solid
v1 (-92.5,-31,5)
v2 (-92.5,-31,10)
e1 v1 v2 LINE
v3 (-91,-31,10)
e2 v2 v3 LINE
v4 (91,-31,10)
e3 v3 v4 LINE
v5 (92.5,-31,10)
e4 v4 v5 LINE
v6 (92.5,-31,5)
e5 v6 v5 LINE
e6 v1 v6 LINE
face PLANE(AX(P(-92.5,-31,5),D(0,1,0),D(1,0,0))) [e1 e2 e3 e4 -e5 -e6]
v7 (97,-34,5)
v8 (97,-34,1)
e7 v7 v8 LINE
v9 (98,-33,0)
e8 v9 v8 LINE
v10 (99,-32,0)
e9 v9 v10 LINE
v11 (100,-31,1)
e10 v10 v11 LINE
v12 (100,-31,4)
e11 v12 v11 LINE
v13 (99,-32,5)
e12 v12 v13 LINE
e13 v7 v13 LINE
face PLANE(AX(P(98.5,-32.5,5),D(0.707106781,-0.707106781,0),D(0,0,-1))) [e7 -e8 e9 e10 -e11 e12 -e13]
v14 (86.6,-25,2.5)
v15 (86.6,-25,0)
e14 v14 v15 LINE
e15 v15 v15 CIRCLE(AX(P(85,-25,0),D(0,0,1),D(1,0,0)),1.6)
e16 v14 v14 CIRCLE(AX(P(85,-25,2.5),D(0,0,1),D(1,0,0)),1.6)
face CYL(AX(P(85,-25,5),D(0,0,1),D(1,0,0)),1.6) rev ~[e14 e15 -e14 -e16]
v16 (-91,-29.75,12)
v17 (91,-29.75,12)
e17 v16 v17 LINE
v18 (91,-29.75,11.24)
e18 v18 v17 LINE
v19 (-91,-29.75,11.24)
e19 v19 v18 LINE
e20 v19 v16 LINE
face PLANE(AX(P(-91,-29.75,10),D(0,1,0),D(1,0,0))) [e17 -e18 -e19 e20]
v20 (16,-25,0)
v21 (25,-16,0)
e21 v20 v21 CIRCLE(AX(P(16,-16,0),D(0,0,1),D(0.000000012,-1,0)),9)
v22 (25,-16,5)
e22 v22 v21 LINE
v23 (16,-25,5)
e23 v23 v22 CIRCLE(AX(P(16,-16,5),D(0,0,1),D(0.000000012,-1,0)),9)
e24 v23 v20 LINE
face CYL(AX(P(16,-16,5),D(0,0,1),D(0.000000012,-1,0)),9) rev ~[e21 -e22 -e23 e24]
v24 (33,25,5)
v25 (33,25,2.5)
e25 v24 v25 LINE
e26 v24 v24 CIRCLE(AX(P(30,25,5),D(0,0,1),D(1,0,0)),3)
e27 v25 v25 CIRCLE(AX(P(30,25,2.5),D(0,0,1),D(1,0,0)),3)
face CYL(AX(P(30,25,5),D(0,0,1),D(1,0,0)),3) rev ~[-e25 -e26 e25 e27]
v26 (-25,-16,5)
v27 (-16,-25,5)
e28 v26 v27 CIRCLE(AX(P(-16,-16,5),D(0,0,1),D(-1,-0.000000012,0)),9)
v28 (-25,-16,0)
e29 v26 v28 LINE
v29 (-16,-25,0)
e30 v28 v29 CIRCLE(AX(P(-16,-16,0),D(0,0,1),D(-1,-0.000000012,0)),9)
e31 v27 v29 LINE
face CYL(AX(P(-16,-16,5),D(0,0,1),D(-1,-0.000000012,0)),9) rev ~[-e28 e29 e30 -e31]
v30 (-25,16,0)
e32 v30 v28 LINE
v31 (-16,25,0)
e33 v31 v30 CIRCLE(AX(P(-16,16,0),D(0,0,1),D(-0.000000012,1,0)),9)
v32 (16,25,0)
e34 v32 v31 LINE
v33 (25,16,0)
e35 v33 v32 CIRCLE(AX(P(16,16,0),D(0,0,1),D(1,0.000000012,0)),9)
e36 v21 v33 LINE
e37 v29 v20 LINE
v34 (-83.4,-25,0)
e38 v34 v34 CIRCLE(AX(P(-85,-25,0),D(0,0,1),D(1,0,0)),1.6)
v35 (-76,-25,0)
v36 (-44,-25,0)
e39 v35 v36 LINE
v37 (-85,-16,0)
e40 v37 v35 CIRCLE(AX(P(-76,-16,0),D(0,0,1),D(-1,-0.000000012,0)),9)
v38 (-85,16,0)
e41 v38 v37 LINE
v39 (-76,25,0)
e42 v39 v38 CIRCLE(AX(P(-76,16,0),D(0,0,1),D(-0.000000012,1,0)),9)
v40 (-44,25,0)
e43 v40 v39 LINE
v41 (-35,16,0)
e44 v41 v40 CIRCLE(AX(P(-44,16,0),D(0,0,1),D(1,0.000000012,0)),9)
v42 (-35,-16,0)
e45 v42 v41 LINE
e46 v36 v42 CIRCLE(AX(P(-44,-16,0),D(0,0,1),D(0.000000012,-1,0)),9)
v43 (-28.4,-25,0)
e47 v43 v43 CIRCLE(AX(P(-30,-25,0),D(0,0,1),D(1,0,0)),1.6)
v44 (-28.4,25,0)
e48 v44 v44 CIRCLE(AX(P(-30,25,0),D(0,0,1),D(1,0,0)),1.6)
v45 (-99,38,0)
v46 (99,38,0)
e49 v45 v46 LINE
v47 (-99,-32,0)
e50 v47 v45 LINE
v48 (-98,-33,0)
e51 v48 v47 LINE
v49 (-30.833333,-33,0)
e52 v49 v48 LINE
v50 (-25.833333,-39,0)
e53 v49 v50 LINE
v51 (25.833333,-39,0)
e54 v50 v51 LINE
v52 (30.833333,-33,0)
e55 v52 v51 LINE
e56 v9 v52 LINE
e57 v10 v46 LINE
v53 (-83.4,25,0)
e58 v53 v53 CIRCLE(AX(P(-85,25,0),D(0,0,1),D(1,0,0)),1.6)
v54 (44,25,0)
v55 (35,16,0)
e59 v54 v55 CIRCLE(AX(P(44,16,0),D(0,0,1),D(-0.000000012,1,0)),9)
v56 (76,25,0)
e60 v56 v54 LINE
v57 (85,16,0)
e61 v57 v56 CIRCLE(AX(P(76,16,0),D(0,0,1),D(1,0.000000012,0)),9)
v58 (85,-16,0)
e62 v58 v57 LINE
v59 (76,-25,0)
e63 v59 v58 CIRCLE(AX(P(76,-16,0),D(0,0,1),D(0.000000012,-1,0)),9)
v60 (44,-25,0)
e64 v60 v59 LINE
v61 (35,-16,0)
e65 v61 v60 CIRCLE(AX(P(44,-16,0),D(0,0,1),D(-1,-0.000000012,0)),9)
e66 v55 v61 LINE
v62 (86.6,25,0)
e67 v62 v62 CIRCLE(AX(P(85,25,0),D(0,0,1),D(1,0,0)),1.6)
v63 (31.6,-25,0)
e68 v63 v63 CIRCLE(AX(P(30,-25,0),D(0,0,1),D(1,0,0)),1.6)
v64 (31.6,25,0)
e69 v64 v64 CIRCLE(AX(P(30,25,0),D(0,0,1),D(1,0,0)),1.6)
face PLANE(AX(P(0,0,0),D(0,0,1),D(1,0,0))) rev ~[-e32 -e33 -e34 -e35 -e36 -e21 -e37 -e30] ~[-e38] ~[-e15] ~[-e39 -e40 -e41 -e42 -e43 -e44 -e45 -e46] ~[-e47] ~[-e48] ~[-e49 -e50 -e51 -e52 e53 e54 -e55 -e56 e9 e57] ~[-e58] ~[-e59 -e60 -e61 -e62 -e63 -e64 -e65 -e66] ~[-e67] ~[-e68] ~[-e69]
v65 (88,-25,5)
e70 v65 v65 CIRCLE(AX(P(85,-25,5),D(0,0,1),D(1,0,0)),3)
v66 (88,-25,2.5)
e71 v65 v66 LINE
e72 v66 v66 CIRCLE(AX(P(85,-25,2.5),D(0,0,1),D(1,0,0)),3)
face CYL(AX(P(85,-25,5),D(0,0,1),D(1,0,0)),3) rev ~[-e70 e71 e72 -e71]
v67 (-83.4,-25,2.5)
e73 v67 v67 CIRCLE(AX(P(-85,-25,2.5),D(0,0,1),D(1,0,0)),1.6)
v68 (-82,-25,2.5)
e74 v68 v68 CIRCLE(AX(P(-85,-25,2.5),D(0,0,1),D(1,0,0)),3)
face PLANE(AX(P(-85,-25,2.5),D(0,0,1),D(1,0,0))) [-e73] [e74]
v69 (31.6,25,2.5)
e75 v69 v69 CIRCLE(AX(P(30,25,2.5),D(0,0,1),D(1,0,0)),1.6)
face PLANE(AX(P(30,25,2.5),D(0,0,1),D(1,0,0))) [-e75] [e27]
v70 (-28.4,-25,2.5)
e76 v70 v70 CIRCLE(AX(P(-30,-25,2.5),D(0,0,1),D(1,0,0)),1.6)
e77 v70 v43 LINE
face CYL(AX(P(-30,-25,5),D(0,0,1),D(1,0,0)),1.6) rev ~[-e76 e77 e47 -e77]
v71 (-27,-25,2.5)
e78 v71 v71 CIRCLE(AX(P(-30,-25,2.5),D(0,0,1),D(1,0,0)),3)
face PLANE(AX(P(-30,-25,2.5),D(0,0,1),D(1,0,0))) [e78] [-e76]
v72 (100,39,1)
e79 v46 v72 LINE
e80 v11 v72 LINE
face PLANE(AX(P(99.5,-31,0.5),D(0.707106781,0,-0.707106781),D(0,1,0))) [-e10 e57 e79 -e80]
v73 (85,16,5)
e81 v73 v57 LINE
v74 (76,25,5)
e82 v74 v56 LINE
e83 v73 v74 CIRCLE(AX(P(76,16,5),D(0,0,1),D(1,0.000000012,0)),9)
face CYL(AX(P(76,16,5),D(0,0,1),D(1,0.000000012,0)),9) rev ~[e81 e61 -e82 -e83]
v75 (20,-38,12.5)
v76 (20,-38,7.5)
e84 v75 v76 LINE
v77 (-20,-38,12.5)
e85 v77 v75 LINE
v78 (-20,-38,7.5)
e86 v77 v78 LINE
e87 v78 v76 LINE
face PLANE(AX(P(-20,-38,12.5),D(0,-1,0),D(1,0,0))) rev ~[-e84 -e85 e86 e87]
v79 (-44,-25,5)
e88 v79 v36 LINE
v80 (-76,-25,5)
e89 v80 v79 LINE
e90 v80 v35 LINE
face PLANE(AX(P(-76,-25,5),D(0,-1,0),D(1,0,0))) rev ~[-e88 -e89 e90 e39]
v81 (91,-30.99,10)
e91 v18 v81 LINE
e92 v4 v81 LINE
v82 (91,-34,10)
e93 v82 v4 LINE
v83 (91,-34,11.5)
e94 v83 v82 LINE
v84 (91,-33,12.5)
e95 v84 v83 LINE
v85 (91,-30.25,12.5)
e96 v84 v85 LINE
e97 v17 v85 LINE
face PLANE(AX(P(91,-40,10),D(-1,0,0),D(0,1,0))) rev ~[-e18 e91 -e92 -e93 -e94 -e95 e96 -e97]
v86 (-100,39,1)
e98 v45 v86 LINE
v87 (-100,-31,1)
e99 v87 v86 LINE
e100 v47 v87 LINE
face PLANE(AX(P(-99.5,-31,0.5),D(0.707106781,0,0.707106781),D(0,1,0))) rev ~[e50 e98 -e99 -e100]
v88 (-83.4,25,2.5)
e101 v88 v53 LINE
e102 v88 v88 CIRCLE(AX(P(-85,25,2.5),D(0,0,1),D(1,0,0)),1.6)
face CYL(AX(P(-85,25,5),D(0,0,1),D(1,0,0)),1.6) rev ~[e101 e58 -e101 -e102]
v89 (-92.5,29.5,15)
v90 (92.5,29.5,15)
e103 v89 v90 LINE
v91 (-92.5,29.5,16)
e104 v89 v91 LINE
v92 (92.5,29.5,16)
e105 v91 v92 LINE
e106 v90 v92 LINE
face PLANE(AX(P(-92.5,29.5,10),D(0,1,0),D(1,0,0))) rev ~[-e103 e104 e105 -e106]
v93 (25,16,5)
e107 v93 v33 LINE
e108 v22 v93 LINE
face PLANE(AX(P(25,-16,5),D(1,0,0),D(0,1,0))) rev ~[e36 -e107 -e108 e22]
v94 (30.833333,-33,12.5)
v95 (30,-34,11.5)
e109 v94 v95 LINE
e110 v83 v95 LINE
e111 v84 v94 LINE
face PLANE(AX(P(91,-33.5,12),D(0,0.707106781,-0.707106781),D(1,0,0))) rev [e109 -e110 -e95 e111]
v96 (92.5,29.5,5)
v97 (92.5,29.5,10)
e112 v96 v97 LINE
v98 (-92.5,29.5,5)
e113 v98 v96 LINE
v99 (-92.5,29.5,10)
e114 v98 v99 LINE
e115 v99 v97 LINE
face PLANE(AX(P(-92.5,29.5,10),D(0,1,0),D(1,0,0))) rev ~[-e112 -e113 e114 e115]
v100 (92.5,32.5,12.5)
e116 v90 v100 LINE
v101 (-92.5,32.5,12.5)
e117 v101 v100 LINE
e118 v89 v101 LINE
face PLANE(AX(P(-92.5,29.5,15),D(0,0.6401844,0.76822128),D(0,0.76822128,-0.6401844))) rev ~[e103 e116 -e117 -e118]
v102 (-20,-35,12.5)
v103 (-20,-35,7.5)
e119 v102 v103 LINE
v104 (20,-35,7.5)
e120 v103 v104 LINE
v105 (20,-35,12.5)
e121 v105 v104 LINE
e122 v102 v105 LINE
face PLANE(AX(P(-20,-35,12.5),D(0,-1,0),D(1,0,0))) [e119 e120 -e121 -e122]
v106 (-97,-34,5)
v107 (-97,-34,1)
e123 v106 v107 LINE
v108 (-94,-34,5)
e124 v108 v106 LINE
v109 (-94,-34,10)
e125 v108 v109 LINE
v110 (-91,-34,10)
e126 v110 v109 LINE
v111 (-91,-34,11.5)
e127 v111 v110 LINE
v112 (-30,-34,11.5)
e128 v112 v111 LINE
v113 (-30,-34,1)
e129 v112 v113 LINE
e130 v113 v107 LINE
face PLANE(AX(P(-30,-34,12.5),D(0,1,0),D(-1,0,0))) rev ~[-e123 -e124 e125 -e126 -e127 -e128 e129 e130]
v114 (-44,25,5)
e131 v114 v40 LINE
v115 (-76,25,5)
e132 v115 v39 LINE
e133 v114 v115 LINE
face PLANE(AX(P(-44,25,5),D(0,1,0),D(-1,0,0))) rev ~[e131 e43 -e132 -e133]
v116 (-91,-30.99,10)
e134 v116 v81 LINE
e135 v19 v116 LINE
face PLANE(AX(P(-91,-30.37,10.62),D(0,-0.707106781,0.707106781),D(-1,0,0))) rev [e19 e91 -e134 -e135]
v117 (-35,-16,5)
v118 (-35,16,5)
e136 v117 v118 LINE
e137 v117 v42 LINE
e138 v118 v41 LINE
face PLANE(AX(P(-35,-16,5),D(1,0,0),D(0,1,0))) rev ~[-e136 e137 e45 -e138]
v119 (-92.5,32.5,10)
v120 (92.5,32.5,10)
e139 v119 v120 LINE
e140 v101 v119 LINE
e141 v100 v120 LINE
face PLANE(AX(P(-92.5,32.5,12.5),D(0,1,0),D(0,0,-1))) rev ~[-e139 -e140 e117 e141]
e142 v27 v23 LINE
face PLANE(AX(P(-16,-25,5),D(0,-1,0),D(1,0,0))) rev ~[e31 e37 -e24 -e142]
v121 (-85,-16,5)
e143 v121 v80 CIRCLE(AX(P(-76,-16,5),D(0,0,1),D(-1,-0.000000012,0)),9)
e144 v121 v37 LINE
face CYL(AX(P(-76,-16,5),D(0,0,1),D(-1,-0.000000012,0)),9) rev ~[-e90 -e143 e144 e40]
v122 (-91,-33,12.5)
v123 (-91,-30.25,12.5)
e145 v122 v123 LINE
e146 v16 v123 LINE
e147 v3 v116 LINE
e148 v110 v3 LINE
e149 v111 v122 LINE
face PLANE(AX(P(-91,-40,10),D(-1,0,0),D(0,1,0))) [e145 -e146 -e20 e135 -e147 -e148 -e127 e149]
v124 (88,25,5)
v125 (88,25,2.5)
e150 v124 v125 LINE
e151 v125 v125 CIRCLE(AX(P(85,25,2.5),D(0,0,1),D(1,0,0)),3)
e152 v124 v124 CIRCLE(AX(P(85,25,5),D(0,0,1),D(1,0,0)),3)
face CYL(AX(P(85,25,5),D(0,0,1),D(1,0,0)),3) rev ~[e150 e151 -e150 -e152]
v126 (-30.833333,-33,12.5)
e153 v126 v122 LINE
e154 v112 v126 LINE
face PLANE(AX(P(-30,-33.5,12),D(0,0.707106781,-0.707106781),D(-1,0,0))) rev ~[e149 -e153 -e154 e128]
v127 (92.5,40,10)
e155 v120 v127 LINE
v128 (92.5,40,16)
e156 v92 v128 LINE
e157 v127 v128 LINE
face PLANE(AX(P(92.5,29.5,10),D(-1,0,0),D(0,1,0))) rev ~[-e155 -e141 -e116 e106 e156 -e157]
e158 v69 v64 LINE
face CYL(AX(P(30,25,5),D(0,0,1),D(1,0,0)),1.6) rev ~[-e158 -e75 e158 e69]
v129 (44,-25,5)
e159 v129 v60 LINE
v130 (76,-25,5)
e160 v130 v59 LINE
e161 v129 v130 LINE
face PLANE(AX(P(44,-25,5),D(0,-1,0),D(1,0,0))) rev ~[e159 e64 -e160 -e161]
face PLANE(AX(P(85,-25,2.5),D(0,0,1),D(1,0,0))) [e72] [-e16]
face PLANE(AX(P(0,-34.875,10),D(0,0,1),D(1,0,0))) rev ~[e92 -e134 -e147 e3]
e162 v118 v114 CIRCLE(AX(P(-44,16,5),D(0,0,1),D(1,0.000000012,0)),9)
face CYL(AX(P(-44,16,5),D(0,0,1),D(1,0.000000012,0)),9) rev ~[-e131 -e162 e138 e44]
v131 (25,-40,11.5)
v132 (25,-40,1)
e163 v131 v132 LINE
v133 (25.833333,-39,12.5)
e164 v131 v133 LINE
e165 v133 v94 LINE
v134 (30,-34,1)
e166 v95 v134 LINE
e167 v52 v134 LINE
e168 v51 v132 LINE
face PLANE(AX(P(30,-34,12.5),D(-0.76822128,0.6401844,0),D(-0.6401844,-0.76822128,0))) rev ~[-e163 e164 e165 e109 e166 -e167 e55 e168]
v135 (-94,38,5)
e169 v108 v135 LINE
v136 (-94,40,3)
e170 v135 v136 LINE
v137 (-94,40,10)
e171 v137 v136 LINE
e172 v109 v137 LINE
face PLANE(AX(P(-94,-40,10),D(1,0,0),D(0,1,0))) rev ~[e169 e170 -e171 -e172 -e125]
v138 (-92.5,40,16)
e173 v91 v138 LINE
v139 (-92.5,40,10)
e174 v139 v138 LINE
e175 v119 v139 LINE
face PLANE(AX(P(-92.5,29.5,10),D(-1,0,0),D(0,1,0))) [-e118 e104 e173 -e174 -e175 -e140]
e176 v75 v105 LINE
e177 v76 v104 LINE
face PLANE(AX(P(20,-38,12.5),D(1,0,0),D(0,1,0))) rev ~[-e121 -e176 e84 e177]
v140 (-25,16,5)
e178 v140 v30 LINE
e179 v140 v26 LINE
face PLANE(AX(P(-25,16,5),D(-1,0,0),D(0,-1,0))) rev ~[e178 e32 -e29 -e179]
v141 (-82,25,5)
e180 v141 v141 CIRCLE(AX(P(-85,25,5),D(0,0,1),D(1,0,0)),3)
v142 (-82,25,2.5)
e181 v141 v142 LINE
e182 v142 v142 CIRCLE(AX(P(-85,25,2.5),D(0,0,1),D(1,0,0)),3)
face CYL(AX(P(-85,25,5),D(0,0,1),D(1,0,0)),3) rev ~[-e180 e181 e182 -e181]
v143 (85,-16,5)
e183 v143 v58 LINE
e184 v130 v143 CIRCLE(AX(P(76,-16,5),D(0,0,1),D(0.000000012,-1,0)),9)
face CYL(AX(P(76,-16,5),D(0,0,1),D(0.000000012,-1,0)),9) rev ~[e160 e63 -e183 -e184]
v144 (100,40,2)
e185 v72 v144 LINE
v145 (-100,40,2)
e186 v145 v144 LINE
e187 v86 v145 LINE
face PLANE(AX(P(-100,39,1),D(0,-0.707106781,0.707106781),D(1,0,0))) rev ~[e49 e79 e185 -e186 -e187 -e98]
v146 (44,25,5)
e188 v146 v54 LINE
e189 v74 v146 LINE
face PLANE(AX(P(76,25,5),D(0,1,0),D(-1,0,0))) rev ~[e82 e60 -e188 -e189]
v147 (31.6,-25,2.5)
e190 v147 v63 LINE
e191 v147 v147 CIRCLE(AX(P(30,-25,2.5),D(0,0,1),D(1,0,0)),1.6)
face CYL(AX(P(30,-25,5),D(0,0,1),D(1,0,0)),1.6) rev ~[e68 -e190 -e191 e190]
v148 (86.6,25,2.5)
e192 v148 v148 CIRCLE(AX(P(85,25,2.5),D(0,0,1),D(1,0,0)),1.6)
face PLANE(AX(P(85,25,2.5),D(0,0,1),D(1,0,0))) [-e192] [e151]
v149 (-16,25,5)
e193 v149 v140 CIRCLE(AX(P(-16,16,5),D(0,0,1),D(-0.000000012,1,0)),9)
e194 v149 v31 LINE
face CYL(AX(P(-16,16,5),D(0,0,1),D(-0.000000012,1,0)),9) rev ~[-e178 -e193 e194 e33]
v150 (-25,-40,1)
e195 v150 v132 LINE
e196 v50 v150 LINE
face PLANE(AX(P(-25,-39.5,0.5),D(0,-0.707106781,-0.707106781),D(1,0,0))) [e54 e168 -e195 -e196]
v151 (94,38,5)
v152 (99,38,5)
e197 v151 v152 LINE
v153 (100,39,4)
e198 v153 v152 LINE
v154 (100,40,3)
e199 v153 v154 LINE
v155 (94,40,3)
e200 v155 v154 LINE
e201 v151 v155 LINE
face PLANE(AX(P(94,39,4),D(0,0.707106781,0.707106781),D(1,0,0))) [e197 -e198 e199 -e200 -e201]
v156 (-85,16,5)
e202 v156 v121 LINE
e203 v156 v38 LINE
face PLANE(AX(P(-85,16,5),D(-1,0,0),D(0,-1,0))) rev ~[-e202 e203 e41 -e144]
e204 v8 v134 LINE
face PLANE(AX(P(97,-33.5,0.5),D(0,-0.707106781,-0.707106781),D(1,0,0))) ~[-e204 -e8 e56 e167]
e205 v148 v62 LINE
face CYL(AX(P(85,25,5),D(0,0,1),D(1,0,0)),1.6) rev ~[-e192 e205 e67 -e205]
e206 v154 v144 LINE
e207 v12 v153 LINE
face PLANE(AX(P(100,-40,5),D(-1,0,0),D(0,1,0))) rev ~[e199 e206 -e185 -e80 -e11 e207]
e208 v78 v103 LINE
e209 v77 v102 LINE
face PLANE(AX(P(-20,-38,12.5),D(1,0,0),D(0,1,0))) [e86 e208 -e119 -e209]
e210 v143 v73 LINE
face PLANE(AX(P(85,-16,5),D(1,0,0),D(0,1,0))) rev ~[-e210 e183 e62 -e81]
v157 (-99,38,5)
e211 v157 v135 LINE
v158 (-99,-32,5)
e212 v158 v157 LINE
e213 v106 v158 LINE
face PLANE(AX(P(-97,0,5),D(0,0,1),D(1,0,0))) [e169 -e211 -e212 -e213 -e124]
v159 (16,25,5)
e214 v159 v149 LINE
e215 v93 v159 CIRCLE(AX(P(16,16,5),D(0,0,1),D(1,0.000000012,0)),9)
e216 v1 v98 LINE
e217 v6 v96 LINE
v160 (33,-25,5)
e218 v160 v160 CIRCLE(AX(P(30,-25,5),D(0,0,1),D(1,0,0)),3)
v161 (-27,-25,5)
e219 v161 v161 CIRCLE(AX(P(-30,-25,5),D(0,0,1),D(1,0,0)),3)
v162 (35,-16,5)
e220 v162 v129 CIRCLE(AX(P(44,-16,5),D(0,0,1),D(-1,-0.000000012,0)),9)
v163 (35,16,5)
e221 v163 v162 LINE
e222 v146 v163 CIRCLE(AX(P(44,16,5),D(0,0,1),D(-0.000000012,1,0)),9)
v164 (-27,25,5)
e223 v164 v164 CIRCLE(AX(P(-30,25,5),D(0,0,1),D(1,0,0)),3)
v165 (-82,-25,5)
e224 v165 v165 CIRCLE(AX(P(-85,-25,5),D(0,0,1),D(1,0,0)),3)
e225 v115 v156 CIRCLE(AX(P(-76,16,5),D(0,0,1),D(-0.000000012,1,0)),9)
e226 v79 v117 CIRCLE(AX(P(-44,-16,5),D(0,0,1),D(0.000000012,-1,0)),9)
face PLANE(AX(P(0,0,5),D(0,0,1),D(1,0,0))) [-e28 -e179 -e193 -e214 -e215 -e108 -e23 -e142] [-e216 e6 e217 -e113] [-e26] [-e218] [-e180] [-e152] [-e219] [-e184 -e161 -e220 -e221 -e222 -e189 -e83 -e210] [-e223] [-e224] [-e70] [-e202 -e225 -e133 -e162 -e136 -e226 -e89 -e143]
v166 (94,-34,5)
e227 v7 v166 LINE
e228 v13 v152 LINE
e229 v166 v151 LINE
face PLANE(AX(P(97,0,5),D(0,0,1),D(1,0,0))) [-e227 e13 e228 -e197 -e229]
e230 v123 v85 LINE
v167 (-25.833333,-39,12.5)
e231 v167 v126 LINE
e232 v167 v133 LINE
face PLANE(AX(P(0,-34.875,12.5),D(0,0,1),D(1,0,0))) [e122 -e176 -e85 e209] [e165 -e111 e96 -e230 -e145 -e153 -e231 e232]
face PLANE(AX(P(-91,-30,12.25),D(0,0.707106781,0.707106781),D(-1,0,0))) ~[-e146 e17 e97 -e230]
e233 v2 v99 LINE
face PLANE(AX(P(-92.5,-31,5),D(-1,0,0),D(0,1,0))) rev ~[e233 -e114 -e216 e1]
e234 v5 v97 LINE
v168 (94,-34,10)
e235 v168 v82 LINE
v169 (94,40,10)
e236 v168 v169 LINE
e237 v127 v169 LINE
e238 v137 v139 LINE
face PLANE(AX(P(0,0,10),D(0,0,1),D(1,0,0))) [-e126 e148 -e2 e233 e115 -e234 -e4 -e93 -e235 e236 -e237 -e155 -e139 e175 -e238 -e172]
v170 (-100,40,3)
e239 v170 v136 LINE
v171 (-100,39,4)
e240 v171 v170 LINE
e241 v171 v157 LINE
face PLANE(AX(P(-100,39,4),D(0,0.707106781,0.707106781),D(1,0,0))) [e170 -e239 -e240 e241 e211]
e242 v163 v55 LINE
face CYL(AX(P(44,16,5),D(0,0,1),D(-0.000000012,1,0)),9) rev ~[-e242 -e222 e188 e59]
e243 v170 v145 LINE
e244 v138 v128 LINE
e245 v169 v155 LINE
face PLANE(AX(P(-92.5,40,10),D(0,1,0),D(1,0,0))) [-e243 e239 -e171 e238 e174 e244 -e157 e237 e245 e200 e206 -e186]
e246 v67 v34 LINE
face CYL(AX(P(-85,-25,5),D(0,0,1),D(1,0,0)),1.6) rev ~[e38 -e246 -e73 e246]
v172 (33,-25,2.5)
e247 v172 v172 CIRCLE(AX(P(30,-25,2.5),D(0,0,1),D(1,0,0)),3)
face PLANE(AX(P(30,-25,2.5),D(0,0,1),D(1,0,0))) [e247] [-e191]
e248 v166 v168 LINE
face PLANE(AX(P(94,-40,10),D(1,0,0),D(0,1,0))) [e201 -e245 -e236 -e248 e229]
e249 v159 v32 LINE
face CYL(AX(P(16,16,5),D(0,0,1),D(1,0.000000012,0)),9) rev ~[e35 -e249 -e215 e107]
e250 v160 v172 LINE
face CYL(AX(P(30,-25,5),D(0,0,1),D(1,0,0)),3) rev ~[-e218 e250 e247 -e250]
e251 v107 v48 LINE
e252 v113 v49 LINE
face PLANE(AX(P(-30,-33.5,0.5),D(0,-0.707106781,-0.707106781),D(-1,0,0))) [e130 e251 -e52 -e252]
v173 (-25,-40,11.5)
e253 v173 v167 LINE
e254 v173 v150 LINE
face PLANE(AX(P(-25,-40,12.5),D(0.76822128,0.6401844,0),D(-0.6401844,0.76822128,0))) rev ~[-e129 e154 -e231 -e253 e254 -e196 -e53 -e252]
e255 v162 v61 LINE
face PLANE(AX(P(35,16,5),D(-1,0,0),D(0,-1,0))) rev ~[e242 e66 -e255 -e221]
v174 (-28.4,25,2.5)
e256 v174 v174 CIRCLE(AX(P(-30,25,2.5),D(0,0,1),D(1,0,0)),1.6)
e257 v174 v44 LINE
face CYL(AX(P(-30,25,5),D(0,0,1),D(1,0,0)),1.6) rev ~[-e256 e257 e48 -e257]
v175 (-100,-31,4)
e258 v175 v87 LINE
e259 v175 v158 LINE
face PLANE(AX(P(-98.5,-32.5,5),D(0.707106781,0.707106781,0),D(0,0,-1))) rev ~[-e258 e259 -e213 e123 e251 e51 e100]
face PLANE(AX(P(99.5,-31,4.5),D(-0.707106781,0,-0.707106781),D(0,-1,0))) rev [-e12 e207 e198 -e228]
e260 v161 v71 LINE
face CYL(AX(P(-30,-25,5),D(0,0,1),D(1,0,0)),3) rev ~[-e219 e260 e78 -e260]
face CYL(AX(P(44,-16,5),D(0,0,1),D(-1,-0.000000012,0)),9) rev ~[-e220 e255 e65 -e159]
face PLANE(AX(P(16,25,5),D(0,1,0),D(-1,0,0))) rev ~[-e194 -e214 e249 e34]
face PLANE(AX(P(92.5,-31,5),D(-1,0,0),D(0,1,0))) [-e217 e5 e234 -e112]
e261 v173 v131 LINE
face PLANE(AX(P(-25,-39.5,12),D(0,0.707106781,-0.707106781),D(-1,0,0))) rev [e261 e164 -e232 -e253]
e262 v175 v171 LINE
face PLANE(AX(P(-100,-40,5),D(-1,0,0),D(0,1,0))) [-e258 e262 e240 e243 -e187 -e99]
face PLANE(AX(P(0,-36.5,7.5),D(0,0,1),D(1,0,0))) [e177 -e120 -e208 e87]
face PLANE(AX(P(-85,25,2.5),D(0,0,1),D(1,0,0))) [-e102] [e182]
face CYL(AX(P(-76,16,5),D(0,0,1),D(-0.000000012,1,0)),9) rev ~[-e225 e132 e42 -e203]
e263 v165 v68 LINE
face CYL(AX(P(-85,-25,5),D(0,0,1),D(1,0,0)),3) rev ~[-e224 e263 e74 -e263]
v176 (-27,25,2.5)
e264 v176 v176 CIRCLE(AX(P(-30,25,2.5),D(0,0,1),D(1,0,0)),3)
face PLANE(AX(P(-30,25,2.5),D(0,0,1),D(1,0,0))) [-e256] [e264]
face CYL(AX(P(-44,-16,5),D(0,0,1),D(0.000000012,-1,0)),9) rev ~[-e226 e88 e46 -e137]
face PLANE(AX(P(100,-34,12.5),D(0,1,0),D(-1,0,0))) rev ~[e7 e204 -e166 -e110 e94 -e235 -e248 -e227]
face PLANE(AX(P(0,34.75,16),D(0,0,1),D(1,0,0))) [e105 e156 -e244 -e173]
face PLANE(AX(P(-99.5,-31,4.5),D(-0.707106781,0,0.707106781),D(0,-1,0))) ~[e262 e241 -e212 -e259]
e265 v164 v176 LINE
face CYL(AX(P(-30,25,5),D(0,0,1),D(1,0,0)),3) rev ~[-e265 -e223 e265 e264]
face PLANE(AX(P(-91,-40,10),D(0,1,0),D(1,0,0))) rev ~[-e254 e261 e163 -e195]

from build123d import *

# Parameters (mm, degrees)
SKETCH_W        = 200
SKETCH_H        = 80
PAD_DEPTH       = 5
SKETCH001_W     = 200
SKETCH001_H     = 80
SKETCH001_W_2   = 185
SKETCH001_H_2   = 60.5
PAD001_DEPTH    = 5
SKETCH002_W     = 185
SKETCH002_H     = 10.5
PAD002_DEPTH    = 6
SKETCH003_W     = 182
SKETCH003_H     = 10.25
PAD003_DEPTH    = 2.5
POCKET_DEPTH    = 192.501
SKETCH005_R     = 1.6
POCKET001_DEPTH = 5
SKETCH006_R     = 3
POCKET002_DEPTH = 2.5
SKETCH007_W     = 6
SKETCH007_H     = 80
POCKET003_DEPTH = 5
CHAMFER_SIZE    = 2
SKETCH008_W     = 40
SKETCH008_H     = 3
POCKET004_DEPTH = 5
POCKET005_DEPTH = 12.501
CHAMFER001_SIZE = 3
CHAMFER002_SIZE = 1
CHAMFER003_SIZE = 1
CHAMFER004_SIZE = 1
CHAMFER005_SIZE = 1.24
CHAMFER006_SIZE = 0.5


with BuildPart() as part:
    # Sketch → Pad (new body)
    with BuildSketch(Plane.XY):
        Rectangle(SKETCH_W, SKETCH_H)
    extrude(amount=PAD_DEPTH)

    # Sketch001 (on Face6 of Pad) → Pad001 (join)
    with BuildSketch(Plane.XY.offset(5)):
        Rectangle(SKETCH001_W, SKETCH001_H)
        with Locations((0, -0.75)):
            Rectangle(SKETCH001_W_2, SKETCH001_H_2, mode=Mode.SUBTRACT)
    extrude(amount=PAD001_DEPTH)

    # Sketch002 (on Face3 of Pad001) → Pad002 (join)
    with BuildSketch(Plane.XY.offset(10)):
        with Locations((0, 34.75)):
            Rectangle(SKETCH002_W, SKETCH002_H)
    extrude(amount=PAD002_DEPTH)

    # Sketch003 (on Face5 of Pad002) → Pad003 (join)
    with BuildSketch(Plane.XY.offset(10)):
        with Locations((0, -34.875)):
            Rectangle(SKETCH003_W, SKETCH003_H)
    extrude(amount=PAD003_DEPTH)

    # Sketch004 (on Face7 of Pad003) → Pocket (cut, through all)
    with BuildSketch(Plane(origin=(-92.5, 0, 0), x_dir=(0, -1, 0), z_dir=(-1, 0, 0))):
        Polygon((-32.5, 12.5), (-32.5, 10), (-29.5, 10), (-29.5, 15), align=None)
    extrude(amount=-POCKET_DEPTH, mode=Mode.SUBTRACT)

    # Sketch005 (on Face21 of Pocket) → Pocket001 (cut)
    with BuildSketch(Plane.XY.offset(5)):
        with Locations((-85, -25)):
            Circle(SKETCH005_R)
        with Locations((-30, -25)):
            Circle(SKETCH005_R)
        with Locations((30, -25)):
            Circle(SKETCH005_R)
        with Locations((85, -25)):
            Circle(SKETCH005_R)
        with Locations((85, 25)):
            Circle(SKETCH005_R)
        with Locations((30, 25)):
            Circle(SKETCH005_R)
        with Locations((-30, 25)):
            Circle(SKETCH005_R)
        with Locations((-85, 25)):
            Circle(SKETCH005_R)
        with BuildLine():
            Line((-25, 16), (-25, -16))
            ThreePointArc((-25, -16), (-22.363961, -22.363961), (-16, -25))
            Line((-16, -25), (16, -25))
            ThreePointArc((16, -25), (22.363961, -22.363961), (25, -16))
            Line((25, -16), (25, 16))
            ThreePointArc((25, 16), (22.363961, 22.363961), (16, 25))
            Line((16, 25), (-16, 25))
            ThreePointArc((-16, 25), (-22.363961, 22.363961), (-25, 16))
        make_face()
        with BuildLine():
            Line((-85, 16), (-85, -16))
            ThreePointArc((-85, -16), (-82.363961, -22.363961), (-76, -25))
            Line((-76, -25), (-44, -25))
            ThreePointArc((-44, -25), (-37.636039, -22.363961), (-35, -16))
            Line((-35, -16), (-35, 16))
            ThreePointArc((-35, 16), (-37.636039, 22.363961), (-44, 25))
            Line((-44, 25), (-76, 25))
            ThreePointArc((-76, 25), (-82.363961, 22.363961), (-85, 16))
        make_face()
        with BuildLine():
            Line((35, 16), (35, -16))
            ThreePointArc((35, -16), (37.636039, -22.363961), (44, -25))
            Line((44, -25), (76, -25))
            ThreePointArc((76, -25), (82.363961, -22.363961), (85, -16))
            Line((85, -16), (85, 16))
            ThreePointArc((85, 16), (82.363961, 22.363961), (76, 25))
            Line((76, 25), (44, 25))
            ThreePointArc((44, 25), (37.636039, 22.363961), (35, 16))
        make_face()
    extrude(amount=-POCKET001_DEPTH, mode=Mode.SUBTRACT)

    # Sketch006 (on Face45 of Pocket001) → Pocket002 (cut)
    with BuildSketch(Plane.XY.offset(5)):
        with Locations((-85, 25)):
            Circle(SKETCH006_R)
        with Locations((-85, -25)):
            Circle(SKETCH006_R)
        with Locations((-30, -25)):
            Circle(SKETCH006_R)
        with Locations((-30, 25)):
            Circle(SKETCH006_R)
        with Locations((30, 25)):
            Circle(SKETCH006_R)
        with Locations((30, -25)):
            Circle(SKETCH006_R)
        with Locations((85, -25)):
            Circle(SKETCH006_R)
        with Locations((85, 25)):
            Circle(SKETCH006_R)
    extrude(amount=-POCKET002_DEPTH, mode=Mode.SUBTRACT)

    # Sketch007 (on Face38 of Pocket002) → Pocket003 (cut)
    with BuildSketch(Plane.XY.offset(10)):
        with Locations((-97, 0)):
            Rectangle(SKETCH007_W, SKETCH007_H)
        with Locations((97, 0)):
            Rectangle(SKETCH007_W, SKETCH007_H)
    extrude(amount=-POCKET003_DEPTH, mode=Mode.SUBTRACT)

    # Chamfer
    chamfer_edges = [part.edges().sort_by_distance(p)[0] for p in [
        (-97, 40, 5),
        (0, 40, 0),
        (97, 40, 5),
    ]]
    chamfer(chamfer_edges, length=CHAMFER_SIZE)

    # Sketch008 (on Face44 of Chamfer) → Pocket004 (cut)
    with BuildSketch(Plane.XY.offset(12.5)):
        with Locations((0, -36.5)):
            Rectangle(SKETCH008_W, SKETCH008_H)
    extrude(amount=-POCKET004_DEPTH, mode=Mode.SUBTRACT)

    # Sketch009 (on Face44 of Pocket004) → Pocket005 (cut, through all)
    with BuildSketch(Plane.XY.offset(12.5)):
        Polygon((-100, -34), (-100, -40), (-25, -40), (-30, -34), align=None)
        Polygon((30, -34), (25, -40), (100, -40), (100, -34), align=None)
    extrude(amount=-POCKET005_DEPTH, mode=Mode.SUBTRACT)

    # Chamfer001
    chamfer001_edges = [part.edges().sort_by_distance(p)[0] for p in [
        (-100, -34, 2.5),
        (100, -34, 2.5),
    ]]
    chamfer(chamfer001_edges, length=CHAMFER001_SIZE)

    # Chamfer002
    chamfer002_edges = [part.edges().sort_by_distance(p)[0] for p in [
        (-60.5, -34, 12.5),
        (-63.5, -34, 0),
        (60.5, -34, 12.5),
        (63.5, -34, 0),
    ]]
    chamfer(chamfer002_edges, length=CHAMFER002_SIZE)

    # Chamfer003
    chamfer003_edges = [part.edges().sort_by_distance(p)[0] for p in [
        (0, -40, 12.5),
        (0, -40, 0),
    ]]
    chamfer(chamfer003_edges, length=CHAMFER003_SIZE)

    # Chamfer004
    chamfer004_edges = [part.edges().sort_by_distance(p)[0] for p in [
        (100, 3.5, 5),
        (100, 3.5, 0),
        (-100, 3.5, 5),
        (-100, 3.5, 0),
    ]]
    chamfer(chamfer004_edges, length=CHAMFER004_SIZE)

    # Chamfer005
    chamfer005_edges = [part.edges().sort_by_distance(p)[0] for p in [
        (0, -29.75, 10),
    ]]
    chamfer(chamfer005_edges, length=CHAMFER005_SIZE)

    # Chamfer006
    chamfer006_edges = [part.edges().sort_by_distance(p)[0] for p in [
        (0, -29.75, 12.5),
    ]]
    chamfer(chamfer006_edges, length=CHAMFER006_SIZE)


solid = part.part
